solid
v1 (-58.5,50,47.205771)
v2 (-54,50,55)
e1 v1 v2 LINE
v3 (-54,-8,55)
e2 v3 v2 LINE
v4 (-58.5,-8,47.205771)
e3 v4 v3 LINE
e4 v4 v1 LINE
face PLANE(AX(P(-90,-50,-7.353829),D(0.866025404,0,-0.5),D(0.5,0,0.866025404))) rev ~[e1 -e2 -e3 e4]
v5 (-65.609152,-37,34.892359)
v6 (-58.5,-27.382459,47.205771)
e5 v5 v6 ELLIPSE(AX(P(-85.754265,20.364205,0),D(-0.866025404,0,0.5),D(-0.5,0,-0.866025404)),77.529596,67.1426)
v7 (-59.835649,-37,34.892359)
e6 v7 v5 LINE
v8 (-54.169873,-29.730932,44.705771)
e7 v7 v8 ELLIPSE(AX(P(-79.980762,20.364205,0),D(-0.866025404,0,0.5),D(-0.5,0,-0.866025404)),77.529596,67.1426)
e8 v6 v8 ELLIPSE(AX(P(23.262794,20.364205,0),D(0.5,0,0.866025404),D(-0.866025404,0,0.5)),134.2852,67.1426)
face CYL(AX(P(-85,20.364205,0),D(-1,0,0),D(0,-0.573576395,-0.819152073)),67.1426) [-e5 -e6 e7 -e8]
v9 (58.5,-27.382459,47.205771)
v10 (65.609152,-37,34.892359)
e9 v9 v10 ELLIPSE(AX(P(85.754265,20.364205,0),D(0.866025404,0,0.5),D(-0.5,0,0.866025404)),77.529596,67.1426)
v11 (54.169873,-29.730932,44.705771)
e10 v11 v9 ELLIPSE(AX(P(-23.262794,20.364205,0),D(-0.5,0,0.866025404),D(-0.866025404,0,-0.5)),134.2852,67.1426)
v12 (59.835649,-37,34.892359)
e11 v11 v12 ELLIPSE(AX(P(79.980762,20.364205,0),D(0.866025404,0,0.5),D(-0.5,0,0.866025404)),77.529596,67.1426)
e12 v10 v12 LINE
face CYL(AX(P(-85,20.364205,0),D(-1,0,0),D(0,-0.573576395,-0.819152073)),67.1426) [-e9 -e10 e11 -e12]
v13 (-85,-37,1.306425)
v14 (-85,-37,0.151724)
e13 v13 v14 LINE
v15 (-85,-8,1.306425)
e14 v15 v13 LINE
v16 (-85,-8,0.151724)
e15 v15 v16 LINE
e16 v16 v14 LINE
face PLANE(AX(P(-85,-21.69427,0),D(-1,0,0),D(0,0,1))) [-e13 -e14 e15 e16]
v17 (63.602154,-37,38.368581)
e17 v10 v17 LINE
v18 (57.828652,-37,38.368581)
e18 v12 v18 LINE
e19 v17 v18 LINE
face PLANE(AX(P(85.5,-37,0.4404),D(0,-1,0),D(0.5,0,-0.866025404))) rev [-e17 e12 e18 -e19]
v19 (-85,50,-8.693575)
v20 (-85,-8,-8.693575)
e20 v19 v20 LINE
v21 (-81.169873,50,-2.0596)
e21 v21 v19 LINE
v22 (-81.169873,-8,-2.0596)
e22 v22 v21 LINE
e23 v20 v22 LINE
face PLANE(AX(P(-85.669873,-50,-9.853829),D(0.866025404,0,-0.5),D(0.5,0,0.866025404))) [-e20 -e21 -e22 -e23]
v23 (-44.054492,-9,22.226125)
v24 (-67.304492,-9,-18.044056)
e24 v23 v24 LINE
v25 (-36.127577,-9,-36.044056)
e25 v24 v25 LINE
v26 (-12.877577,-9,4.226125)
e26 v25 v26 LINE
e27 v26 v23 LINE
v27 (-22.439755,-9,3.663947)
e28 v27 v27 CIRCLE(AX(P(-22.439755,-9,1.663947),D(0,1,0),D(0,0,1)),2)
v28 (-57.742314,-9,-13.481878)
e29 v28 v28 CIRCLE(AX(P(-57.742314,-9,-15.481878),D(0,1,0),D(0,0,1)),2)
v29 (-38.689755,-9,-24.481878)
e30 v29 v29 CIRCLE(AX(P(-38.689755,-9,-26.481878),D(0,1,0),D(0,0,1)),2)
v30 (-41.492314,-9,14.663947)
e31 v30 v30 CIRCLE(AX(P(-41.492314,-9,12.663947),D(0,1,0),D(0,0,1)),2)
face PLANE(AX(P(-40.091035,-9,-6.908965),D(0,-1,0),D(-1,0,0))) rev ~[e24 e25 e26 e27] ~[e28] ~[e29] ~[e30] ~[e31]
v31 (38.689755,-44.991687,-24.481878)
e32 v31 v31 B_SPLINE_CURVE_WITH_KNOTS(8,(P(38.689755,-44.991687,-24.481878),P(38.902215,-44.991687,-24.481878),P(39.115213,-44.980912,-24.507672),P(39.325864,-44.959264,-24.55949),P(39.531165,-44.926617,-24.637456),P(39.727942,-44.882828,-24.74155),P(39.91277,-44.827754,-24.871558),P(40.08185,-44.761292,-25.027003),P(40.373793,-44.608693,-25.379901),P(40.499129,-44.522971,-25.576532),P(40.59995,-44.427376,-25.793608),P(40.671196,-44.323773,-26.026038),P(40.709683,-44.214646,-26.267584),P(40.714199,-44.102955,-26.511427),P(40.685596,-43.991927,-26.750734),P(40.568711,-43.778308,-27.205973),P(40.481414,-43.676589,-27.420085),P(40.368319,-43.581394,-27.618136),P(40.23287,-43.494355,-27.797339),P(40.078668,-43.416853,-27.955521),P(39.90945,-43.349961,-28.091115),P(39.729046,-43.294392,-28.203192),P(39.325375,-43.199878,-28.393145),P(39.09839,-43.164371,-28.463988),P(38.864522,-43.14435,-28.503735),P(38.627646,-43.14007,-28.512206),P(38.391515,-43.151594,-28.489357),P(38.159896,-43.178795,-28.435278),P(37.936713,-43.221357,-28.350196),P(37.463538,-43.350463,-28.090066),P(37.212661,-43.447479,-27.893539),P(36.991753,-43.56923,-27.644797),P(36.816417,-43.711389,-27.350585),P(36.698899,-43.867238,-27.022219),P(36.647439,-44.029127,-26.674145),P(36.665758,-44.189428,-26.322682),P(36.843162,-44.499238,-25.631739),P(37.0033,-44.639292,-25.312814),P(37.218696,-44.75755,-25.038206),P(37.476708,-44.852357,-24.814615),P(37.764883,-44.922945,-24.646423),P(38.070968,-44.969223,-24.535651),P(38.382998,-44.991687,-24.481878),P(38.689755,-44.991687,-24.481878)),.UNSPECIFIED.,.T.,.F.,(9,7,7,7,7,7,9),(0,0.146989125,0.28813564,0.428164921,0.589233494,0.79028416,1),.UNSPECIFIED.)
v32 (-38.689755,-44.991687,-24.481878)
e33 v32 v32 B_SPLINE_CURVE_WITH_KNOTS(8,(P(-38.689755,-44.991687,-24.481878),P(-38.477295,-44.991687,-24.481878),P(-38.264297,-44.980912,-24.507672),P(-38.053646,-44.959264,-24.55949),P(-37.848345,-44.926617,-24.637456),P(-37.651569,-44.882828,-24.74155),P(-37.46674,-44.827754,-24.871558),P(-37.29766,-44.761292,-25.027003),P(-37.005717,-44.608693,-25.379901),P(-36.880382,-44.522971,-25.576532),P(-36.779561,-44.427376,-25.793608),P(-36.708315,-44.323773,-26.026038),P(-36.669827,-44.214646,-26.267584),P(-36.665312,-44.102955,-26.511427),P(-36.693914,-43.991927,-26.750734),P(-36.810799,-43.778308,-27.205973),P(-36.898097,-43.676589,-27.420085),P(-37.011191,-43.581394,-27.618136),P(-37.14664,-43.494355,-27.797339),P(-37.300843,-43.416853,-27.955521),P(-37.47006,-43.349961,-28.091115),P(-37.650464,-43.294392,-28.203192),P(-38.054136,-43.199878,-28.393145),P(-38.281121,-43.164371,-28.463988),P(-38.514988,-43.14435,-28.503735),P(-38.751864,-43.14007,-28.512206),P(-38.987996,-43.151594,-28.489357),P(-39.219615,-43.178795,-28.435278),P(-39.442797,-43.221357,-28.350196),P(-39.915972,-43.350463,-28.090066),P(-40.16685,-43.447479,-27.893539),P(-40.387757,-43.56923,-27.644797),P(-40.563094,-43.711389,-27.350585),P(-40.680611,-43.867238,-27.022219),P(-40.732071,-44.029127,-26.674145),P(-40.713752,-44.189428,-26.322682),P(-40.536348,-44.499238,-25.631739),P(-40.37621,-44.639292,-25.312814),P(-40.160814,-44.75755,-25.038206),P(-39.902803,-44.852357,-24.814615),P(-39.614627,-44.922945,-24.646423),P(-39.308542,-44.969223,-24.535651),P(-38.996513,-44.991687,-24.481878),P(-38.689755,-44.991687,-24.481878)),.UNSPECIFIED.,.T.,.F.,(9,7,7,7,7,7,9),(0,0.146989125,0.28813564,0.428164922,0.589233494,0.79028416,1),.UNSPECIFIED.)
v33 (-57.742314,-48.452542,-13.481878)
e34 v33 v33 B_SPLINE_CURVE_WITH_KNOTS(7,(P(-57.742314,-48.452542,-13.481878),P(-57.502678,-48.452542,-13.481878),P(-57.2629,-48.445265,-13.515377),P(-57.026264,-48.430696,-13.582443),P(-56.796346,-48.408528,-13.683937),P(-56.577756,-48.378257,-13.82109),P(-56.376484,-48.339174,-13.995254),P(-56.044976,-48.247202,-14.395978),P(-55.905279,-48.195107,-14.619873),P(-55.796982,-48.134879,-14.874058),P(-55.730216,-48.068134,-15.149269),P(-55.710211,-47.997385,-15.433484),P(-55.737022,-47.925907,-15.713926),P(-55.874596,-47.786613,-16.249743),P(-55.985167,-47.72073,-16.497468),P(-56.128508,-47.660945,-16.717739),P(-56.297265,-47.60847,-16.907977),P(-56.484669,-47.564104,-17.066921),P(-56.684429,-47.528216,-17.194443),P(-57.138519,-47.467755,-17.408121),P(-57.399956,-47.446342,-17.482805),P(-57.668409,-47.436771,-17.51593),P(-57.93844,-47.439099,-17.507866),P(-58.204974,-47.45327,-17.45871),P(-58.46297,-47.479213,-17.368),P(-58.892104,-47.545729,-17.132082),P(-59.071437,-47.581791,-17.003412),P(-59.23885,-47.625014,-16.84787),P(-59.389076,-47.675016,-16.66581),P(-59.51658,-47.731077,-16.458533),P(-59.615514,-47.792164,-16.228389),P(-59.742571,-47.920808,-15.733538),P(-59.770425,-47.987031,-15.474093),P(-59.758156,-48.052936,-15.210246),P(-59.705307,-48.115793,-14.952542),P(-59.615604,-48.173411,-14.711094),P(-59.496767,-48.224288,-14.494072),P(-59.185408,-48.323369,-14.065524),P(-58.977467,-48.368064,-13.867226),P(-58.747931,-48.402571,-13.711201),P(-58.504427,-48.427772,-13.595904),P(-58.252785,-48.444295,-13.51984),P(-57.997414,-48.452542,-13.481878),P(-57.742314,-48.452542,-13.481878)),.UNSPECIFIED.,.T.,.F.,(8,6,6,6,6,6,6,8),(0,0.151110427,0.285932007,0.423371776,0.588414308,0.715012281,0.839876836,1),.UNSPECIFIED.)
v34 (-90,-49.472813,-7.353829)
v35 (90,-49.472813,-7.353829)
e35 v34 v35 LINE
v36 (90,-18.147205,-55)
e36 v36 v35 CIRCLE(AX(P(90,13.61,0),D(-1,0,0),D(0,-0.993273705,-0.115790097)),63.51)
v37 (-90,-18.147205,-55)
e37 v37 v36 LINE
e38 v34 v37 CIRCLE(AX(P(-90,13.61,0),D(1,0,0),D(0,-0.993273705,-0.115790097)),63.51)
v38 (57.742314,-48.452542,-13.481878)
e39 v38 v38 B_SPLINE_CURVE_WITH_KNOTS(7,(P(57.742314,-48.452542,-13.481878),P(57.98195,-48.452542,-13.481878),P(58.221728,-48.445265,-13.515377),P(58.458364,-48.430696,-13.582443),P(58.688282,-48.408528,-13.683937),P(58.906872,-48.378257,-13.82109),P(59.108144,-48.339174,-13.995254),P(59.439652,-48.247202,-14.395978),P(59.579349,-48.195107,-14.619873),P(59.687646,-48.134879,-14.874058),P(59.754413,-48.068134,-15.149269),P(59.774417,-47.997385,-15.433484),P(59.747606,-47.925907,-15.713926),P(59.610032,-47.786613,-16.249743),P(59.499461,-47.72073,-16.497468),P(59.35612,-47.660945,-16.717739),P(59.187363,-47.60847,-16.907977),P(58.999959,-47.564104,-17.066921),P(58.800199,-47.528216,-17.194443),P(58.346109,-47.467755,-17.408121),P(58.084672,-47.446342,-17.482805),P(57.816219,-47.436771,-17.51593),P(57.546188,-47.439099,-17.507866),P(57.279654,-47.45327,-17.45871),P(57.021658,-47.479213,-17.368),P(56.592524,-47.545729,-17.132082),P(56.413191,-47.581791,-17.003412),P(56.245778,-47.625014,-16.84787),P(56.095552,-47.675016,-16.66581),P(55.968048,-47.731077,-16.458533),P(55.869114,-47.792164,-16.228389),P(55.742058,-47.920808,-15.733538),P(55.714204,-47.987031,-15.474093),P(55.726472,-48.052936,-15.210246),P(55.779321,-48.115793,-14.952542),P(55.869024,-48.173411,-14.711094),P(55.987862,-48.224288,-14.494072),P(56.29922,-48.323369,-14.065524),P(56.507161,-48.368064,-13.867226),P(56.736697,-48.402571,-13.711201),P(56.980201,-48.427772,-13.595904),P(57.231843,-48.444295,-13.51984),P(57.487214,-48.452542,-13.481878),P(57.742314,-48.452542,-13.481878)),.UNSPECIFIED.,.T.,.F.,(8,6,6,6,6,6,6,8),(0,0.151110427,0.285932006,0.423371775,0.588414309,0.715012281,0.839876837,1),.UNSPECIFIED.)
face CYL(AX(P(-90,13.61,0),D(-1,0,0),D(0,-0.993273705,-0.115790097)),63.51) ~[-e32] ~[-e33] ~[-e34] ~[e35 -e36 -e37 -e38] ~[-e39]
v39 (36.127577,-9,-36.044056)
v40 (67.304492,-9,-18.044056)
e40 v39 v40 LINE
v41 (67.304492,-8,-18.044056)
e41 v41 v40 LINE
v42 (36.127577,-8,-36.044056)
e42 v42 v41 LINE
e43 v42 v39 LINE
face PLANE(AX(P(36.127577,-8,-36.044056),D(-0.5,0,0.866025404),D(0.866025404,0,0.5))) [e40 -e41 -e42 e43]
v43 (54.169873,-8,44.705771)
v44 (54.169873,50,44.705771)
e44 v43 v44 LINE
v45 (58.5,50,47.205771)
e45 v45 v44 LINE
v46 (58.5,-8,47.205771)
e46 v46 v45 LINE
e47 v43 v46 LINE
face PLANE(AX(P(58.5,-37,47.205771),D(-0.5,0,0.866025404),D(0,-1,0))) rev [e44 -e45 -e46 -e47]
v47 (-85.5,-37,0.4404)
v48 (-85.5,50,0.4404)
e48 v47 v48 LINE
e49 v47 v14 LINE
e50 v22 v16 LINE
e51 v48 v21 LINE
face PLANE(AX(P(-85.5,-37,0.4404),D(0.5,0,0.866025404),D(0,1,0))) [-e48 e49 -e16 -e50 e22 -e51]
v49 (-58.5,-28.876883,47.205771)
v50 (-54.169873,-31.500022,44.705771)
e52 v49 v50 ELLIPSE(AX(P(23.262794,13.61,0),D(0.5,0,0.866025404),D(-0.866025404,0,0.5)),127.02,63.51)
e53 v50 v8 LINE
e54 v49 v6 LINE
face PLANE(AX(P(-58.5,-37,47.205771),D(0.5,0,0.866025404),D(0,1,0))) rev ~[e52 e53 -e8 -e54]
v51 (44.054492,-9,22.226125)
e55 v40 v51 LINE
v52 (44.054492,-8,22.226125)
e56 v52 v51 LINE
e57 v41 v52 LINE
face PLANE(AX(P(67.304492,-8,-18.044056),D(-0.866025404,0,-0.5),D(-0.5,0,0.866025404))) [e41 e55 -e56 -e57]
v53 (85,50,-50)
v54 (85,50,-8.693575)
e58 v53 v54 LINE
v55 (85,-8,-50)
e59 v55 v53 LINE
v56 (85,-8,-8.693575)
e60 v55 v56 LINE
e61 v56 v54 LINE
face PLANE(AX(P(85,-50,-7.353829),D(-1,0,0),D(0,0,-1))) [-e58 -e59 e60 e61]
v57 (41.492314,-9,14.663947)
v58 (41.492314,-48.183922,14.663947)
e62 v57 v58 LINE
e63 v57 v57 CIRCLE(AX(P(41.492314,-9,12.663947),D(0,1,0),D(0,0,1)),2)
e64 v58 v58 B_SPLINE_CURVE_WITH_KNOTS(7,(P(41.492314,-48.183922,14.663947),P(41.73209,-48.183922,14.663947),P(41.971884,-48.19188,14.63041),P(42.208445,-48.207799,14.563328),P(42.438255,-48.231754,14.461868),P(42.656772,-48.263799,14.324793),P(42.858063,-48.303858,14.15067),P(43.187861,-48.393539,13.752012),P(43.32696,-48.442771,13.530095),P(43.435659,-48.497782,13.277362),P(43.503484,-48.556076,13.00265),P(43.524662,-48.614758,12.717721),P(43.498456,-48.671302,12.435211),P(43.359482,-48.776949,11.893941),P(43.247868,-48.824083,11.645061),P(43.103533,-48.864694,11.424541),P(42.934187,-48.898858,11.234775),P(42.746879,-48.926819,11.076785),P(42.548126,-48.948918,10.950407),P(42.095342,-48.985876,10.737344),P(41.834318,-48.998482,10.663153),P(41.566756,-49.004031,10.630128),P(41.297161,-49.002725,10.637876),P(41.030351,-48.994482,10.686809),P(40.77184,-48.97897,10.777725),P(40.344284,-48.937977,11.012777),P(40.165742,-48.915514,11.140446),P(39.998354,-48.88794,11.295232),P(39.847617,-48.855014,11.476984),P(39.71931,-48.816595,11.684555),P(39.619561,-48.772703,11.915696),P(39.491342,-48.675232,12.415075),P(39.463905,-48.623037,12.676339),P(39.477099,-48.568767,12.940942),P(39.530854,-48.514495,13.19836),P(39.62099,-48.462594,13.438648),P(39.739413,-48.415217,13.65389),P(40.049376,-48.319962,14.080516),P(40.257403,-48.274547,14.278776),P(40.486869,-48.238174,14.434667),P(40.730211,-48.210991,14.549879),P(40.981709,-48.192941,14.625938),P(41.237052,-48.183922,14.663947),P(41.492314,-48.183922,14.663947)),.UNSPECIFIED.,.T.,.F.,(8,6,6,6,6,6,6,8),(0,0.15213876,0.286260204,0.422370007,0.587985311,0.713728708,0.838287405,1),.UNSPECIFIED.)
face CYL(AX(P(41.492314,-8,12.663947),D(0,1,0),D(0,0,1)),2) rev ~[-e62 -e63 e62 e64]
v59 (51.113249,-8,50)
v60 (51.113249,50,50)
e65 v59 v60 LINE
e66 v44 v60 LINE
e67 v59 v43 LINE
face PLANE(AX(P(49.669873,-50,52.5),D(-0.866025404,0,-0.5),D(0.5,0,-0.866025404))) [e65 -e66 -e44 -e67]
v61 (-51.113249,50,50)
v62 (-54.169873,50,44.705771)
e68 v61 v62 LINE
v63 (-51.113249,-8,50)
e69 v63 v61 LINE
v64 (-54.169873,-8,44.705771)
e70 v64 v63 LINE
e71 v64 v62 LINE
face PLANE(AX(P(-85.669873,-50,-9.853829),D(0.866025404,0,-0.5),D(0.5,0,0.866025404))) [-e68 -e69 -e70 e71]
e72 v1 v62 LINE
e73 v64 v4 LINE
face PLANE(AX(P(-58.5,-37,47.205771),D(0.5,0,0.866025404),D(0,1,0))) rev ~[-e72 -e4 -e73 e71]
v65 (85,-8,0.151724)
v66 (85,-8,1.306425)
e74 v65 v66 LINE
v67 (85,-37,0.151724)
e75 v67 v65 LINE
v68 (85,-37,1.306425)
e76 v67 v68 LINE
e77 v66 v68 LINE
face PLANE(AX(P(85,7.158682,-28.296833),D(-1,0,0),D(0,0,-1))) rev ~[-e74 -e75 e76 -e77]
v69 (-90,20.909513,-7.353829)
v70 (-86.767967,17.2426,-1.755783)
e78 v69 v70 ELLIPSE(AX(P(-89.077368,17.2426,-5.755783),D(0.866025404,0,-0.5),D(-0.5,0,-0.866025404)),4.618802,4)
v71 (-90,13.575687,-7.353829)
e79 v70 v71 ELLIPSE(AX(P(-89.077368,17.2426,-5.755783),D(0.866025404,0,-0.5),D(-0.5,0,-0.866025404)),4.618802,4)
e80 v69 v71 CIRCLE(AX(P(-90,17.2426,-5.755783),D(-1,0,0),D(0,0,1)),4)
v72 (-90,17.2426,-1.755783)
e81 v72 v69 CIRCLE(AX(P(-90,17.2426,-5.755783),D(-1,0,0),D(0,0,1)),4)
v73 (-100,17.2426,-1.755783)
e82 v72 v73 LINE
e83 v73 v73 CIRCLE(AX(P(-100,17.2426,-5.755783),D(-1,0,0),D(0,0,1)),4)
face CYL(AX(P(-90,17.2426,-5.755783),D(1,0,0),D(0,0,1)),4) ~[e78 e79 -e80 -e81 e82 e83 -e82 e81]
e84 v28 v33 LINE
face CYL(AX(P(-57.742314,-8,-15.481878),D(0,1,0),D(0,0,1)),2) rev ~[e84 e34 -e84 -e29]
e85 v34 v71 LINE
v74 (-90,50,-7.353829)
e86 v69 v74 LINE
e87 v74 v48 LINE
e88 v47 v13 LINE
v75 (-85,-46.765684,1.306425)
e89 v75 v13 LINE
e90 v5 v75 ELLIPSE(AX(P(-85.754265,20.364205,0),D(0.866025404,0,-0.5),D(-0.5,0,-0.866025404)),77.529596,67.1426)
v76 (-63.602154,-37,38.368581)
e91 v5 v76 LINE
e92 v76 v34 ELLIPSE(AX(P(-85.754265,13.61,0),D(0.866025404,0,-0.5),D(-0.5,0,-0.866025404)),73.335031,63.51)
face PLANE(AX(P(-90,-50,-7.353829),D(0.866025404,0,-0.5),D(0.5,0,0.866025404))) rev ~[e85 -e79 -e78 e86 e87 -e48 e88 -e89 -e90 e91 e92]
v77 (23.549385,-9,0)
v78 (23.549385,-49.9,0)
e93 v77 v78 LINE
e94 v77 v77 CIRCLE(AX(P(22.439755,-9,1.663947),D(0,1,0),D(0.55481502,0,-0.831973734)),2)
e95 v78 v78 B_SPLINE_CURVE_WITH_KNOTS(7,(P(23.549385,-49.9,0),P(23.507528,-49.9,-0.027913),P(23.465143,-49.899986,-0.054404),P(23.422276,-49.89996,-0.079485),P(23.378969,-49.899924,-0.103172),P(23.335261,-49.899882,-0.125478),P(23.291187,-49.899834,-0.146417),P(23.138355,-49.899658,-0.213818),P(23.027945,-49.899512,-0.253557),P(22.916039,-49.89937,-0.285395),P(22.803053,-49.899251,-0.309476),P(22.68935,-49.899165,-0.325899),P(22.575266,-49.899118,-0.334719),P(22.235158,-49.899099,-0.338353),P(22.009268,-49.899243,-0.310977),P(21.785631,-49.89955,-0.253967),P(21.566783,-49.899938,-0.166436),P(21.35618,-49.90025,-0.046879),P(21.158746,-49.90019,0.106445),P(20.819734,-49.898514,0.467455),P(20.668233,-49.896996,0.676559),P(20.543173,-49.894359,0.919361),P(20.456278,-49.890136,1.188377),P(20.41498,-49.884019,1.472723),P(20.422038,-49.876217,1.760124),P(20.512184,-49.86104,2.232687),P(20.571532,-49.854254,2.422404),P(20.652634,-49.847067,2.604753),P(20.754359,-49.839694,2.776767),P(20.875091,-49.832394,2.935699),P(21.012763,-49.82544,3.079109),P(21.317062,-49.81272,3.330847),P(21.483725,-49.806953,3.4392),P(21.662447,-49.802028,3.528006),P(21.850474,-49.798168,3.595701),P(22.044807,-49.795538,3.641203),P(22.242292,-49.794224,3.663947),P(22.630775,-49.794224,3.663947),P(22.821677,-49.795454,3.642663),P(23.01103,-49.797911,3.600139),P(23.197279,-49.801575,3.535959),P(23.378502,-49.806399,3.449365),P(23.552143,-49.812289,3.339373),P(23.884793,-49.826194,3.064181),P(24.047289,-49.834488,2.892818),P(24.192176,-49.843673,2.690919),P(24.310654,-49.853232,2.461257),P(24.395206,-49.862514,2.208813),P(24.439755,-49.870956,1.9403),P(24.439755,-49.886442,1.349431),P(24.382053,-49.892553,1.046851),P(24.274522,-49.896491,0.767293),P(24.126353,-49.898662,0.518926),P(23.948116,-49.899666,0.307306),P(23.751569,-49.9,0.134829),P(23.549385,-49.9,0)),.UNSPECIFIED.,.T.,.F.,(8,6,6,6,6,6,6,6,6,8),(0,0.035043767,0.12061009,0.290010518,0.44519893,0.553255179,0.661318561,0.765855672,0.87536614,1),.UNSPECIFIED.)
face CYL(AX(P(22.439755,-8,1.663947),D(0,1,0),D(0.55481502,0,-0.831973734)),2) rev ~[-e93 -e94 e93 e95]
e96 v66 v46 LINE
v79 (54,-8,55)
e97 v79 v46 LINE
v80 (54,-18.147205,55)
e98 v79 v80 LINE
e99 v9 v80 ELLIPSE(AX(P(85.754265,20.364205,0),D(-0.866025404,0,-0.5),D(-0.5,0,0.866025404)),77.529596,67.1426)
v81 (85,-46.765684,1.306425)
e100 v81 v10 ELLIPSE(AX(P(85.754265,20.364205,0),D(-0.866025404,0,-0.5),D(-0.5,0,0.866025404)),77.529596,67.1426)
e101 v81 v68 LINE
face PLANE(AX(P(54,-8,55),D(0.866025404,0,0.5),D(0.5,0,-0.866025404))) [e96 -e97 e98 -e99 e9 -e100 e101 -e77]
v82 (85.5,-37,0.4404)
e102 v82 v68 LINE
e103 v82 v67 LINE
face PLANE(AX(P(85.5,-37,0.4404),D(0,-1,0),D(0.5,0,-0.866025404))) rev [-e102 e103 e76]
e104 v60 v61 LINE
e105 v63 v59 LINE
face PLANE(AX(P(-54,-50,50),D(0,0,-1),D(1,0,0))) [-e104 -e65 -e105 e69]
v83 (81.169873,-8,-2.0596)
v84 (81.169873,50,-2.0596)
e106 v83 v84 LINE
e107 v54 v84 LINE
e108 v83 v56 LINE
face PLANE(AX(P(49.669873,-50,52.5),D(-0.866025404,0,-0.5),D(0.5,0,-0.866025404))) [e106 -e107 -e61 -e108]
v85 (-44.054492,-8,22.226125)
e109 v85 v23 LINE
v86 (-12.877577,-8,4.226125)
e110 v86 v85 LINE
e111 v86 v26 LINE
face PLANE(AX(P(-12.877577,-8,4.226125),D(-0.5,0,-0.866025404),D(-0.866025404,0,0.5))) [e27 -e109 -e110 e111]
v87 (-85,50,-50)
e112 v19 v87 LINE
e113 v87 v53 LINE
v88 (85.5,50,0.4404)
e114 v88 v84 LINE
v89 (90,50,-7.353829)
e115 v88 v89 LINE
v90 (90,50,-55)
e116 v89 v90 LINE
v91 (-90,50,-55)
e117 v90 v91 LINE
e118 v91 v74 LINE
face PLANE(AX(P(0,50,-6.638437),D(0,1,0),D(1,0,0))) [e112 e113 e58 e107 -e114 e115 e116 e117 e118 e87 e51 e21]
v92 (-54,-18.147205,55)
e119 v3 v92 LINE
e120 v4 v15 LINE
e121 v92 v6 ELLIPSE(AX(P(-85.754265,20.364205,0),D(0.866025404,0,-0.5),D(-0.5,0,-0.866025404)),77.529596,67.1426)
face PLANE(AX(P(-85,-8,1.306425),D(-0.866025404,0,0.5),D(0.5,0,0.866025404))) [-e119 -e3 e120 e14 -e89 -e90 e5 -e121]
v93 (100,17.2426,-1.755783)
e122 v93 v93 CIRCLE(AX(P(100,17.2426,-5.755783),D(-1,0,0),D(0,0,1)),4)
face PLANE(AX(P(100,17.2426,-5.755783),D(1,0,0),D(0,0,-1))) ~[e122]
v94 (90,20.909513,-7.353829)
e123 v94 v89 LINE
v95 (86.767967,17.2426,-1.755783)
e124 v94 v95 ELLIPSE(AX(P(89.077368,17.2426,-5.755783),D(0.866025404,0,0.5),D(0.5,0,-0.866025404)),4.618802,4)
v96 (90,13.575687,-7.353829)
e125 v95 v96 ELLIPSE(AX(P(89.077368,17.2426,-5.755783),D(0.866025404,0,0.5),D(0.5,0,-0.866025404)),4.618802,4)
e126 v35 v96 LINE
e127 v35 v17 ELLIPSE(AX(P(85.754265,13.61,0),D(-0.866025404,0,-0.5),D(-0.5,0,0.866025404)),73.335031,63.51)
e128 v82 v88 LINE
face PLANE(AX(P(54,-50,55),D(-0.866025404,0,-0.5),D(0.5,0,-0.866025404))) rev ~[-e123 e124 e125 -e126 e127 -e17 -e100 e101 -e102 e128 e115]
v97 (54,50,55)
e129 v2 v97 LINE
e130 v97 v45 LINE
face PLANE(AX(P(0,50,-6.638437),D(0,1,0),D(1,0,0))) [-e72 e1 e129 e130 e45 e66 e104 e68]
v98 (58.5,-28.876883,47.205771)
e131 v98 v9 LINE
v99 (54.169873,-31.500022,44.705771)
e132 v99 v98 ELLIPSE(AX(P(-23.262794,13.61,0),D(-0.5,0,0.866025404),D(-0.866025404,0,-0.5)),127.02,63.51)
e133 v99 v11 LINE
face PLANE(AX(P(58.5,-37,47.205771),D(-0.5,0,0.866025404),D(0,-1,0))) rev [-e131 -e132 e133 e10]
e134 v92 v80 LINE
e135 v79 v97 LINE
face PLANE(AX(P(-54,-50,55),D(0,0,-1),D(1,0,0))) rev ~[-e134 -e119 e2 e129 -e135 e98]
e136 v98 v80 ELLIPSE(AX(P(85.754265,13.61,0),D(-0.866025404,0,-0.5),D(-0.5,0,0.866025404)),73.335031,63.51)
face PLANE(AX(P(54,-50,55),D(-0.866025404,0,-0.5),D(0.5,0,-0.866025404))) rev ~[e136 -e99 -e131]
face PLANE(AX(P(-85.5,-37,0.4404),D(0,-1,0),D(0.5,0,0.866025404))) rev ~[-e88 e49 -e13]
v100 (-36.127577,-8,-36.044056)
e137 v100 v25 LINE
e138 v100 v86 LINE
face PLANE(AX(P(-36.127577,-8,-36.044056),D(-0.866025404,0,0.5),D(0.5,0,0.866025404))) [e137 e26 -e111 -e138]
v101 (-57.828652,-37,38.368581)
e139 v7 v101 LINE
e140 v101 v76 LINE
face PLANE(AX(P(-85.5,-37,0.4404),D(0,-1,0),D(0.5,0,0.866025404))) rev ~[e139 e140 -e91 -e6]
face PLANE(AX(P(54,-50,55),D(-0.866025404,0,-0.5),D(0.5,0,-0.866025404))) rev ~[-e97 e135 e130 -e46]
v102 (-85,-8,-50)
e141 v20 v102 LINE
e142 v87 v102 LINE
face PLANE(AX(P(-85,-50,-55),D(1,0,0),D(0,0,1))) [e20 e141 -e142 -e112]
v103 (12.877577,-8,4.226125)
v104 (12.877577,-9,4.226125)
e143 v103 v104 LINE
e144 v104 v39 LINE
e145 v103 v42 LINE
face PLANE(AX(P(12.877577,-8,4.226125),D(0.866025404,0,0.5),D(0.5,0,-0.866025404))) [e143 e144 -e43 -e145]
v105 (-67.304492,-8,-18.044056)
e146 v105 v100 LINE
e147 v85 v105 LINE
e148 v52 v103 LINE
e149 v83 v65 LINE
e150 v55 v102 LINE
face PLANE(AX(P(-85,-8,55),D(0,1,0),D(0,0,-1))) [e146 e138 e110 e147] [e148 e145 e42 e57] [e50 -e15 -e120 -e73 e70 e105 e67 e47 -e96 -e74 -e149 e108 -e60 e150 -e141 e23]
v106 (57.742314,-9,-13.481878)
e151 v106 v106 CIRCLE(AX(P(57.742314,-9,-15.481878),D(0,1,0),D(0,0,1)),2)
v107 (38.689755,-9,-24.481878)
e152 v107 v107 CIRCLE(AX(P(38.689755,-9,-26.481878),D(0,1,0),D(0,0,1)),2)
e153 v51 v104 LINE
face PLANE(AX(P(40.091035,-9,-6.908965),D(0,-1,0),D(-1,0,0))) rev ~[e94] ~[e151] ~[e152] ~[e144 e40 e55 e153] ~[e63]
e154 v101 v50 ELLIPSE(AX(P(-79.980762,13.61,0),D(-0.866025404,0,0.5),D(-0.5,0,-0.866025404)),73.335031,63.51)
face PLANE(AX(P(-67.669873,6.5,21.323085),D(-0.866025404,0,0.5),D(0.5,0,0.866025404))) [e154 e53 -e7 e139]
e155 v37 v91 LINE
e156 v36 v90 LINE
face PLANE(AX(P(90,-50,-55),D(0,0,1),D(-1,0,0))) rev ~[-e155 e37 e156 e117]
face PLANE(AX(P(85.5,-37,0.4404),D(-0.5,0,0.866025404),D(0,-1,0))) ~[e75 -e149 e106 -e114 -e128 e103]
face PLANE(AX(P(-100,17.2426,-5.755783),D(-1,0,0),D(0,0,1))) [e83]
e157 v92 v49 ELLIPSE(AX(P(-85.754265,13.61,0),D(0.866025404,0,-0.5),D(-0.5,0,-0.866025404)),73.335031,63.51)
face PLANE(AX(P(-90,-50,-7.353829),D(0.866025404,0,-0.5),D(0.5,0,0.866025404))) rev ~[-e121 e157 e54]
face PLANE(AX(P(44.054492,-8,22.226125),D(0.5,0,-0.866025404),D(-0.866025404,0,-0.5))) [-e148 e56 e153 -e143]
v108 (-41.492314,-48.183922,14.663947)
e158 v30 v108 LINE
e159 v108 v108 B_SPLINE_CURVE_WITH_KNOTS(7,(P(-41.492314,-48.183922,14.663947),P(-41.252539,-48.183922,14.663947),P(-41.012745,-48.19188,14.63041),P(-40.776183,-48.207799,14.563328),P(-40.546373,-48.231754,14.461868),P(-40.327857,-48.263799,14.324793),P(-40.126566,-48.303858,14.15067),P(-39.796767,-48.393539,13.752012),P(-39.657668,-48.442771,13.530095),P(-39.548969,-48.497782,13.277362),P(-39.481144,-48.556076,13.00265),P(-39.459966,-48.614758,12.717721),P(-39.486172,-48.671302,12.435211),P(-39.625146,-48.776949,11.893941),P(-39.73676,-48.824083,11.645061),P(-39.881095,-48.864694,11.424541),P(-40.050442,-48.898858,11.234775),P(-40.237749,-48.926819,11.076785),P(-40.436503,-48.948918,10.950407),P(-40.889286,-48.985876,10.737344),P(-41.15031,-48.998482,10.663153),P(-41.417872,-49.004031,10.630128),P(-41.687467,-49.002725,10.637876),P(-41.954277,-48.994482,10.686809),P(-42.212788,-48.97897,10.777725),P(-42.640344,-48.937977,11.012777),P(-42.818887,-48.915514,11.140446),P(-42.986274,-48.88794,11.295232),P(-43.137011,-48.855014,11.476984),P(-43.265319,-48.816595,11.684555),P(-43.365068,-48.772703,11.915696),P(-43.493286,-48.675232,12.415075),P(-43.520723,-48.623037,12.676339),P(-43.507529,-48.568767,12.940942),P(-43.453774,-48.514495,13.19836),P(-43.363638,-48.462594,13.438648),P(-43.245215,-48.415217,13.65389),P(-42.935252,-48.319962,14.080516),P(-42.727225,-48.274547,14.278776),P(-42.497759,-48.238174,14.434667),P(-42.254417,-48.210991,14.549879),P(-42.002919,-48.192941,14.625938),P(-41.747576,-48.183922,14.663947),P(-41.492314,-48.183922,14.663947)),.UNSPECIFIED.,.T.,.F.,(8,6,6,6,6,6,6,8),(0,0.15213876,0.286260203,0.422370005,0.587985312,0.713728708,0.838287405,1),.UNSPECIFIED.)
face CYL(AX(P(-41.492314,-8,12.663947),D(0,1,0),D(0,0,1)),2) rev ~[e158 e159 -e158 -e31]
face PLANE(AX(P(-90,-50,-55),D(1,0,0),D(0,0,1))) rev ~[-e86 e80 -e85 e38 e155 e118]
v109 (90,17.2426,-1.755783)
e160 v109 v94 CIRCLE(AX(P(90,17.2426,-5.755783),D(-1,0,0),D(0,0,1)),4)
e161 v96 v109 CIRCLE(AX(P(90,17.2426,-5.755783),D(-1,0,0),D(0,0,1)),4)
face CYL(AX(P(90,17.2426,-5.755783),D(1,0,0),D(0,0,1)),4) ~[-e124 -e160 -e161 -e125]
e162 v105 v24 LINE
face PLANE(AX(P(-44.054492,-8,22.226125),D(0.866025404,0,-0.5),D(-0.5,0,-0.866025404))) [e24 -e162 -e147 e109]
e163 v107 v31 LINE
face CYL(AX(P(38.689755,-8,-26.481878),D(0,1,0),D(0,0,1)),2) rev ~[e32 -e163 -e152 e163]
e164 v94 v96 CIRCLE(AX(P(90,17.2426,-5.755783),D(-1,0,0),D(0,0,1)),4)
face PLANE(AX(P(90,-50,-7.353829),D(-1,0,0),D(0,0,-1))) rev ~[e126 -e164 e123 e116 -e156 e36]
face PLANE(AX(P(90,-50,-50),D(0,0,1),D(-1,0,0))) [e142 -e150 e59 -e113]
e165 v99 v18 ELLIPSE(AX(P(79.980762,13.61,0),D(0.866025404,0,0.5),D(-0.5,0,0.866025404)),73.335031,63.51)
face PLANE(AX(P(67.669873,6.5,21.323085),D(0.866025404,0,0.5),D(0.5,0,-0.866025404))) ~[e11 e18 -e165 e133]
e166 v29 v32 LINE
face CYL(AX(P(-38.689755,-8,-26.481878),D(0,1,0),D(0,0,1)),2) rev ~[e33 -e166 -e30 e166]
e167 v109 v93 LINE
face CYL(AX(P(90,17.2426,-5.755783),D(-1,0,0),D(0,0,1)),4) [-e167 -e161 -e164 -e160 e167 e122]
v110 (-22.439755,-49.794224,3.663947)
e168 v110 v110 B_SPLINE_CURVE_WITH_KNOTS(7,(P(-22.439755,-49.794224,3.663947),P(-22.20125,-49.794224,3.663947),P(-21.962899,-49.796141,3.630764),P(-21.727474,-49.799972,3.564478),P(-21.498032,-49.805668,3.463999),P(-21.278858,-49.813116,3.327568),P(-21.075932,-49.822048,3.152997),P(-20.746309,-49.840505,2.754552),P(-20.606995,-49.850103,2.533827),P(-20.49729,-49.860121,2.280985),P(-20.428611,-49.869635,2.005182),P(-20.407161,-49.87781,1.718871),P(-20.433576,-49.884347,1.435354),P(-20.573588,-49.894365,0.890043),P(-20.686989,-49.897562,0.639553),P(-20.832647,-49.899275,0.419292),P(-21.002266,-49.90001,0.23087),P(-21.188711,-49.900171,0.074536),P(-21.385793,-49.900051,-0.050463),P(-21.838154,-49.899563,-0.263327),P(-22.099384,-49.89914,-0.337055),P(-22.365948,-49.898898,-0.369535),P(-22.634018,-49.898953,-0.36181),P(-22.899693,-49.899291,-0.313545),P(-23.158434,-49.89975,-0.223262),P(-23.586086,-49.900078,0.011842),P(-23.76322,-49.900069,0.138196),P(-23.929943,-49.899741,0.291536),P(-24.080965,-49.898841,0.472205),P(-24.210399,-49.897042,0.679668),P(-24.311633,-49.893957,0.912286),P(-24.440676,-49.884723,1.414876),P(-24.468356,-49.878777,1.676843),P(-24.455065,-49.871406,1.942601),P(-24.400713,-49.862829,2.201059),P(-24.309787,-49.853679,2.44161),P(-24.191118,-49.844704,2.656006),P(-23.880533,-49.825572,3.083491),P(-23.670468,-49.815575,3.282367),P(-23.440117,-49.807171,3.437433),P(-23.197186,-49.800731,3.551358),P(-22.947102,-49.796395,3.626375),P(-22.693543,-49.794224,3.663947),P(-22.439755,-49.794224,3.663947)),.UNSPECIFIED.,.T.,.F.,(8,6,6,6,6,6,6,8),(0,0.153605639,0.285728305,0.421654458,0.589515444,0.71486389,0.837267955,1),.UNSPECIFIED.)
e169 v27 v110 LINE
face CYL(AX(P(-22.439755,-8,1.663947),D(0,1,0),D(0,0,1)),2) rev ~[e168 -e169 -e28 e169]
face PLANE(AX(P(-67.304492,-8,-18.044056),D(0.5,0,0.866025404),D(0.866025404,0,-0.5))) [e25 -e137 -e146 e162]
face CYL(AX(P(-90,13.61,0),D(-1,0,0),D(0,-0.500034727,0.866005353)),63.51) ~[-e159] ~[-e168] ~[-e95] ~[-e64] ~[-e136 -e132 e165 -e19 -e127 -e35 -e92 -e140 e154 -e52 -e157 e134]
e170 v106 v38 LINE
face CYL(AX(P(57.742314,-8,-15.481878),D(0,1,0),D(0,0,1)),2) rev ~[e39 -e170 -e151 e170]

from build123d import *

# Parameters (mm, degrees)
BOSS_EXTRUDE1_DEPTH             = 50
BOSS_EXTRUDE1_DEPTH_BACK        = 50
CUT_EXTRUDE9_REACH              = 196.743
SHELL1_T                        = -5
SKETCH5_W                       = 54
SKETCH5_H                       = 87
CUT_EXTRUDE2_DEPTH              = 5
BOSS_EXTRUDE4_REACH             = 192.132
SKETCH6_R                       = 2
CUT_EXTRUDE4_DEPTH              = 121.370262108
SKETCH6_4_R                     = 2
CUT_EXTRUDE5_DEPTH              = 1
CUT_EXTRUDE10_REACH             = 122.37
SKETCH18_R                      = 4
BOSS_EXTRUDE5_DEPTH             = 10
BOSS_EXTRUDE5_DIRECTION_2_REACH = 196.743


with BuildPart() as part:
    # Sketch2 → Boss-Extrude1 (new, two sides: drawn at the far end of the back side and taken through both)
    with BuildSketch(Plane(origin=(0, 0, 0), x_dir=(1, 0, 0), z_dir=(0, 1, 0)).offset(-BOSS_EXTRUDE1_DEPTH_BACK)):
        Polygon((-90, 7.353829072), (-54, -55), (54, -55), (90, 7.353829072), (90, 55), (-90, 55), align=None)
    extrude(amount=BOSS_EXTRUDE1_DEPTH + BOSS_EXTRUDE1_DEPTH_BACK)

    # Sketch13 → Cut-Extrude9 (cut, up to next)
    with BuildSketch(Plane.ZY.offset(90), mode=Mode.PRIVATE) as cut_extrude9_sk1:
        with BuildLine():
            Line((-55, -18.147205482), (-55, -50))
            Line((-55, -50), (-7.353829072, -50))
            Line((-7.353829072, -50), (-7.353829072, -49.472813016))
            ThreePointArc((-7.353829072, -49.472813016), (-34.89016225, -39.45784976), (-55, -18.147205482))
        make_face()
    cut_extrude9_tool1 = extrude(cut_extrude9_sk1.sketch, amount=-CUT_EXTRUDE9_REACH, mode=Mode.PRIVATE) & part.part
    # Sketch13 → Cut-Extrude9 (cut, up to next)
    with BuildSketch(Plane.ZY.offset(90), mode=Mode.PRIVATE) as cut_extrude9_sk2:
        with BuildLine():
            Line((-7.353829072, -49.472813016), (-7.353829072, -50))
            Line((-7.353829072, -50), (55, -50))
            Line((55, -50), (55, -18.147205482))
            ThreePointArc((55, -18.147205482), (28.510749251, -43.140835035), (-7.353829072, -49.472813016))
        make_face()
    cut_extrude9_tool2 = extrude(cut_extrude9_sk2.sketch, amount=-CUT_EXTRUDE9_REACH, mode=Mode.PRIVATE) & part.part
    add(cut_extrude9_tool1.solids().sort_by_distance((-90, -41.055355, -42.003091))[0], mode=Mode.SUBTRACT)
    add(cut_extrude9_tool2.solids().sort_by_distance((-90, -41.116139, 41.712636))[0], mode=Mode.SUBTRACT)

    # Shell1
    shell1_openings = [part.faces().sort_by_distance(p)[0] for p in [
        (0, 50, -4.375017638),
    ]]
    offset(amount=SHELL1_T, openings=shell1_openings, kind=Kind.INTERSECTION)

    # Sketch5 → Cut-Extrude2 (cut)
    with BuildSketch(Plane(origin=(-64.315698604, 0, 37.132685902), x_dir=(0.500000000000001, 0, 0.8660254037844382), z_dir=(-0.866025403784438, 0, 0.5000000000000009))):
        with Locations((-15.368602792, 6.5)):
            Rectangle(SKETCH5_W, SKETCH5_H)
    cut_extrude2 = extrude(amount=-CUT_EXTRUDE2_DEPTH, mode=Mode.SUBTRACT)

    # Mirror1: Cut-Extrude2 across plane
    add(cut_extrude2.mirror(Plane(origin=(0, 0, 0), x_dir=(0, 0, 1), z_dir=(1, 0, 0))), mode=Mode.SUBTRACT)

    # Boss-Extrude4: up to this face of the body (flat: up to its plane)
    boss_extrude4_end = Plane(part.part.faces().sort_by_distance((85, 7.162435056, -28.298353868))[0])
    # Sketch16 → Boss-Extrude4 (add, up to the picked face)
    with BuildSketch(Plane(origin=(-85, 0, 0), x_dir=(0, 0, -1), z_dir=(1, 0, 0)), mode=Mode.PRIVATE) as boss_extrude4_sk1:
        with BuildLine():
            Line((-55, -8), (55, -8))
            Line((55, -8), (55, -18.147205482))
            ThreePointArc((55, -18.147205482), (0, -46.778395033), (-55, -18.147205482))
            Line((-55, -18.147205482), (-55, -8))
        make_face()
    boss_extrude4_tool1 = split(extrude(boss_extrude4_sk1.sketch, amount=BOSS_EXTRUDE4_REACH, mode=Mode.PRIVATE), bisect_by=boss_extrude4_end, keep=Keep.BOTH, mode=Mode.PRIVATE)
    add(boss_extrude4_tool1.solids().sort_by(Axis((-85, -24.21168, 0), (1, 0, 0)))[0])

    # Sketch6 → Cut-Extrude4 (cut, through all)
    with BuildSketch(Plane(origin=(0, -8, 0), x_dir=(1, 0, 0), z_dir=(0, 1, 0))):
        with Locations(Location((-57.742314098, 15.481878155, 0), (0, 0, 270))):
            Circle(SKETCH6_R)
        with Locations(Location((-38.689755215, 26.481878155, 0), (0, 0, 270))):
            Circle(SKETCH6_R)
        with Locations(Location((-41.492314098, -12.663947468, 0), (0, 0, 270))):
            Circle(SKETCH6_R)
        with Locations(Location((-22.439755215, -1.663947468, 0), (0, 0, 270))):
            Circle(SKETCH6_R)
        with Locations(Location((22.439755215, -1.663947468, 0), (0, 0, 56.302025246))):
            Circle(SKETCH6_R)
        with Locations(Location((41.492314098, -12.663947468, 0), (0, 0, 270))):
            Circle(SKETCH6_R)
        with Locations(Location((38.689755215, 26.481878155, 0), (0, 0, 270))):
            Circle(SKETCH6_R)
        with Locations(Location((57.742314098, 15.481878155, 0), (0, 0, 270))):
            Circle(SKETCH6_R)
    extrude(amount=-CUT_EXTRUDE4_DEPTH, mode=Mode.SUBTRACT)

    # Sketch6<4> → Cut-Extrude5 (cut)
    # profile 1 of 2: a face of its own
    with BuildSketch(Plane(origin=(0, -8, 0), x_dir=(1, 0, 0), z_dir=(0, 1, 0))):
        Polygon((36.127577388, 36.044055982), (67.304491924, 18.044055982), (44.054491924, -22.226125294), (12.877577388, -4.226125294), align=None)
        with Locations(Location((38.689755215, 26.481878155, 0), (0, 0, 270))):
            Circle(SKETCH6_4_R, mode=Mode.SUBTRACT)
        with Locations(Location((22.439755215, -1.663947468, 0), (0, 0, 270))):
            Circle(SKETCH6_4_R, mode=Mode.SUBTRACT)
        with Locations(Location((41.492314098, -12.663947468, 0), (0, 0, 270))):
            Circle(SKETCH6_4_R, mode=Mode.SUBTRACT)
        with Locations(Location((57.742314098, 15.481878155, 0), (0, 0, 270))):
            Circle(SKETCH6_4_R, mode=Mode.SUBTRACT)
    # profile 2 of 2: a face of its own
    with BuildSketch(Plane(origin=(0, -8, 0), x_dir=(1, 0, 0), z_dir=(0, 1, 0))):
        Polygon((-36.127577388, 36.044055982), (-12.877577388, -4.226125294), (-44.054491924, -22.226125294), (-67.304491924, 18.044055982), align=None)
    extrude(amount=-CUT_EXTRUDE5_DEPTH, mode=Mode.SUBTRACT)

    # Sketch17 → Cut-Extrude10 (cut, up to next)
    with BuildSketch(Plane(origin=(0, -8, 0), x_dir=(1, 0, 0), z_dir=(0, 1, 0)), mode=Mode.PRIVATE) as cut_extrude10_sk1:
        Polygon((-54, -55), (-85, -55), (-85, -1.306424965), align=None)
    cut_extrude10_tool1 = extrude(cut_extrude10_sk1.sketch, amount=-CUT_EXTRUDE10_REACH, mode=Mode.PRIVATE) & part.part
    # Sketch17 → Cut-Extrude10 (cut, up to next)
    with BuildSketch(Plane(origin=(0, -8, 0), x_dir=(1, 0, 0), z_dir=(0, 1, 0)), mode=Mode.PRIVATE) as cut_extrude10_sk2:
        Polygon((85, -55), (54, -55), (85, -1.306424965), align=None)
    cut_extrude10_tool2 = extrude(cut_extrude10_sk2.sketch, amount=-CUT_EXTRUDE10_REACH, mode=Mode.PRIVATE) & part.part
    add(cut_extrude10_tool1.solids().sort_by_distance((-74.666667, -8, 37.102142))[0], mode=Mode.SUBTRACT)
    add(cut_extrude10_tool2.solids().sort_by_distance((74.666667, -8, 37.102142))[0], mode=Mode.SUBTRACT)

    # Sketch18 → Boss-Extrude5 (add)
    with BuildSketch(Plane.ZY.offset(90)):
        with Locations((-5.755783353, 17.2426)):
            Circle(SKETCH18_R)
    boss_extrude5 = extrude(amount=BOSS_EXTRUDE5_DEPTH)

    # Sketch18 → Boss-Extrude5 direction 2 (add, up to next)
    with BuildSketch(Plane.ZY.offset(90), mode=Mode.PRIVATE) as boss_extrude5_direction_2_sk1:
        with Locations((-5.755783353, 17.2426)):
            Circle(SKETCH18_R)
    boss_extrude5_direction_2_tool1 = extrude(boss_extrude5_direction_2_sk1.sketch, amount=-BOSS_EXTRUDE5_DIRECTION_2_REACH, mode=Mode.PRIVATE) - part.part
    boss_extrude5_direction_2 = boss_extrude5_direction_2_tool1.solids().sort_by_distance((-90, 17.2426, -5.755783))[0]
    add(boss_extrude5_direction_2)

    # Mirror2: Boss-Extrude5, Boss-Extrude5 direction 2 across plane
    add(boss_extrude5.mirror(Plane(origin=(0, 0, 0), x_dir=(0, 0, 1), z_dir=(1, 0, 0))))
    add(boss_extrude5_direction_2.mirror(Plane(origin=(0, 0, 0), x_dir=(0, 0, 1), z_dir=(1, 0, 0))))


solid = part.part
